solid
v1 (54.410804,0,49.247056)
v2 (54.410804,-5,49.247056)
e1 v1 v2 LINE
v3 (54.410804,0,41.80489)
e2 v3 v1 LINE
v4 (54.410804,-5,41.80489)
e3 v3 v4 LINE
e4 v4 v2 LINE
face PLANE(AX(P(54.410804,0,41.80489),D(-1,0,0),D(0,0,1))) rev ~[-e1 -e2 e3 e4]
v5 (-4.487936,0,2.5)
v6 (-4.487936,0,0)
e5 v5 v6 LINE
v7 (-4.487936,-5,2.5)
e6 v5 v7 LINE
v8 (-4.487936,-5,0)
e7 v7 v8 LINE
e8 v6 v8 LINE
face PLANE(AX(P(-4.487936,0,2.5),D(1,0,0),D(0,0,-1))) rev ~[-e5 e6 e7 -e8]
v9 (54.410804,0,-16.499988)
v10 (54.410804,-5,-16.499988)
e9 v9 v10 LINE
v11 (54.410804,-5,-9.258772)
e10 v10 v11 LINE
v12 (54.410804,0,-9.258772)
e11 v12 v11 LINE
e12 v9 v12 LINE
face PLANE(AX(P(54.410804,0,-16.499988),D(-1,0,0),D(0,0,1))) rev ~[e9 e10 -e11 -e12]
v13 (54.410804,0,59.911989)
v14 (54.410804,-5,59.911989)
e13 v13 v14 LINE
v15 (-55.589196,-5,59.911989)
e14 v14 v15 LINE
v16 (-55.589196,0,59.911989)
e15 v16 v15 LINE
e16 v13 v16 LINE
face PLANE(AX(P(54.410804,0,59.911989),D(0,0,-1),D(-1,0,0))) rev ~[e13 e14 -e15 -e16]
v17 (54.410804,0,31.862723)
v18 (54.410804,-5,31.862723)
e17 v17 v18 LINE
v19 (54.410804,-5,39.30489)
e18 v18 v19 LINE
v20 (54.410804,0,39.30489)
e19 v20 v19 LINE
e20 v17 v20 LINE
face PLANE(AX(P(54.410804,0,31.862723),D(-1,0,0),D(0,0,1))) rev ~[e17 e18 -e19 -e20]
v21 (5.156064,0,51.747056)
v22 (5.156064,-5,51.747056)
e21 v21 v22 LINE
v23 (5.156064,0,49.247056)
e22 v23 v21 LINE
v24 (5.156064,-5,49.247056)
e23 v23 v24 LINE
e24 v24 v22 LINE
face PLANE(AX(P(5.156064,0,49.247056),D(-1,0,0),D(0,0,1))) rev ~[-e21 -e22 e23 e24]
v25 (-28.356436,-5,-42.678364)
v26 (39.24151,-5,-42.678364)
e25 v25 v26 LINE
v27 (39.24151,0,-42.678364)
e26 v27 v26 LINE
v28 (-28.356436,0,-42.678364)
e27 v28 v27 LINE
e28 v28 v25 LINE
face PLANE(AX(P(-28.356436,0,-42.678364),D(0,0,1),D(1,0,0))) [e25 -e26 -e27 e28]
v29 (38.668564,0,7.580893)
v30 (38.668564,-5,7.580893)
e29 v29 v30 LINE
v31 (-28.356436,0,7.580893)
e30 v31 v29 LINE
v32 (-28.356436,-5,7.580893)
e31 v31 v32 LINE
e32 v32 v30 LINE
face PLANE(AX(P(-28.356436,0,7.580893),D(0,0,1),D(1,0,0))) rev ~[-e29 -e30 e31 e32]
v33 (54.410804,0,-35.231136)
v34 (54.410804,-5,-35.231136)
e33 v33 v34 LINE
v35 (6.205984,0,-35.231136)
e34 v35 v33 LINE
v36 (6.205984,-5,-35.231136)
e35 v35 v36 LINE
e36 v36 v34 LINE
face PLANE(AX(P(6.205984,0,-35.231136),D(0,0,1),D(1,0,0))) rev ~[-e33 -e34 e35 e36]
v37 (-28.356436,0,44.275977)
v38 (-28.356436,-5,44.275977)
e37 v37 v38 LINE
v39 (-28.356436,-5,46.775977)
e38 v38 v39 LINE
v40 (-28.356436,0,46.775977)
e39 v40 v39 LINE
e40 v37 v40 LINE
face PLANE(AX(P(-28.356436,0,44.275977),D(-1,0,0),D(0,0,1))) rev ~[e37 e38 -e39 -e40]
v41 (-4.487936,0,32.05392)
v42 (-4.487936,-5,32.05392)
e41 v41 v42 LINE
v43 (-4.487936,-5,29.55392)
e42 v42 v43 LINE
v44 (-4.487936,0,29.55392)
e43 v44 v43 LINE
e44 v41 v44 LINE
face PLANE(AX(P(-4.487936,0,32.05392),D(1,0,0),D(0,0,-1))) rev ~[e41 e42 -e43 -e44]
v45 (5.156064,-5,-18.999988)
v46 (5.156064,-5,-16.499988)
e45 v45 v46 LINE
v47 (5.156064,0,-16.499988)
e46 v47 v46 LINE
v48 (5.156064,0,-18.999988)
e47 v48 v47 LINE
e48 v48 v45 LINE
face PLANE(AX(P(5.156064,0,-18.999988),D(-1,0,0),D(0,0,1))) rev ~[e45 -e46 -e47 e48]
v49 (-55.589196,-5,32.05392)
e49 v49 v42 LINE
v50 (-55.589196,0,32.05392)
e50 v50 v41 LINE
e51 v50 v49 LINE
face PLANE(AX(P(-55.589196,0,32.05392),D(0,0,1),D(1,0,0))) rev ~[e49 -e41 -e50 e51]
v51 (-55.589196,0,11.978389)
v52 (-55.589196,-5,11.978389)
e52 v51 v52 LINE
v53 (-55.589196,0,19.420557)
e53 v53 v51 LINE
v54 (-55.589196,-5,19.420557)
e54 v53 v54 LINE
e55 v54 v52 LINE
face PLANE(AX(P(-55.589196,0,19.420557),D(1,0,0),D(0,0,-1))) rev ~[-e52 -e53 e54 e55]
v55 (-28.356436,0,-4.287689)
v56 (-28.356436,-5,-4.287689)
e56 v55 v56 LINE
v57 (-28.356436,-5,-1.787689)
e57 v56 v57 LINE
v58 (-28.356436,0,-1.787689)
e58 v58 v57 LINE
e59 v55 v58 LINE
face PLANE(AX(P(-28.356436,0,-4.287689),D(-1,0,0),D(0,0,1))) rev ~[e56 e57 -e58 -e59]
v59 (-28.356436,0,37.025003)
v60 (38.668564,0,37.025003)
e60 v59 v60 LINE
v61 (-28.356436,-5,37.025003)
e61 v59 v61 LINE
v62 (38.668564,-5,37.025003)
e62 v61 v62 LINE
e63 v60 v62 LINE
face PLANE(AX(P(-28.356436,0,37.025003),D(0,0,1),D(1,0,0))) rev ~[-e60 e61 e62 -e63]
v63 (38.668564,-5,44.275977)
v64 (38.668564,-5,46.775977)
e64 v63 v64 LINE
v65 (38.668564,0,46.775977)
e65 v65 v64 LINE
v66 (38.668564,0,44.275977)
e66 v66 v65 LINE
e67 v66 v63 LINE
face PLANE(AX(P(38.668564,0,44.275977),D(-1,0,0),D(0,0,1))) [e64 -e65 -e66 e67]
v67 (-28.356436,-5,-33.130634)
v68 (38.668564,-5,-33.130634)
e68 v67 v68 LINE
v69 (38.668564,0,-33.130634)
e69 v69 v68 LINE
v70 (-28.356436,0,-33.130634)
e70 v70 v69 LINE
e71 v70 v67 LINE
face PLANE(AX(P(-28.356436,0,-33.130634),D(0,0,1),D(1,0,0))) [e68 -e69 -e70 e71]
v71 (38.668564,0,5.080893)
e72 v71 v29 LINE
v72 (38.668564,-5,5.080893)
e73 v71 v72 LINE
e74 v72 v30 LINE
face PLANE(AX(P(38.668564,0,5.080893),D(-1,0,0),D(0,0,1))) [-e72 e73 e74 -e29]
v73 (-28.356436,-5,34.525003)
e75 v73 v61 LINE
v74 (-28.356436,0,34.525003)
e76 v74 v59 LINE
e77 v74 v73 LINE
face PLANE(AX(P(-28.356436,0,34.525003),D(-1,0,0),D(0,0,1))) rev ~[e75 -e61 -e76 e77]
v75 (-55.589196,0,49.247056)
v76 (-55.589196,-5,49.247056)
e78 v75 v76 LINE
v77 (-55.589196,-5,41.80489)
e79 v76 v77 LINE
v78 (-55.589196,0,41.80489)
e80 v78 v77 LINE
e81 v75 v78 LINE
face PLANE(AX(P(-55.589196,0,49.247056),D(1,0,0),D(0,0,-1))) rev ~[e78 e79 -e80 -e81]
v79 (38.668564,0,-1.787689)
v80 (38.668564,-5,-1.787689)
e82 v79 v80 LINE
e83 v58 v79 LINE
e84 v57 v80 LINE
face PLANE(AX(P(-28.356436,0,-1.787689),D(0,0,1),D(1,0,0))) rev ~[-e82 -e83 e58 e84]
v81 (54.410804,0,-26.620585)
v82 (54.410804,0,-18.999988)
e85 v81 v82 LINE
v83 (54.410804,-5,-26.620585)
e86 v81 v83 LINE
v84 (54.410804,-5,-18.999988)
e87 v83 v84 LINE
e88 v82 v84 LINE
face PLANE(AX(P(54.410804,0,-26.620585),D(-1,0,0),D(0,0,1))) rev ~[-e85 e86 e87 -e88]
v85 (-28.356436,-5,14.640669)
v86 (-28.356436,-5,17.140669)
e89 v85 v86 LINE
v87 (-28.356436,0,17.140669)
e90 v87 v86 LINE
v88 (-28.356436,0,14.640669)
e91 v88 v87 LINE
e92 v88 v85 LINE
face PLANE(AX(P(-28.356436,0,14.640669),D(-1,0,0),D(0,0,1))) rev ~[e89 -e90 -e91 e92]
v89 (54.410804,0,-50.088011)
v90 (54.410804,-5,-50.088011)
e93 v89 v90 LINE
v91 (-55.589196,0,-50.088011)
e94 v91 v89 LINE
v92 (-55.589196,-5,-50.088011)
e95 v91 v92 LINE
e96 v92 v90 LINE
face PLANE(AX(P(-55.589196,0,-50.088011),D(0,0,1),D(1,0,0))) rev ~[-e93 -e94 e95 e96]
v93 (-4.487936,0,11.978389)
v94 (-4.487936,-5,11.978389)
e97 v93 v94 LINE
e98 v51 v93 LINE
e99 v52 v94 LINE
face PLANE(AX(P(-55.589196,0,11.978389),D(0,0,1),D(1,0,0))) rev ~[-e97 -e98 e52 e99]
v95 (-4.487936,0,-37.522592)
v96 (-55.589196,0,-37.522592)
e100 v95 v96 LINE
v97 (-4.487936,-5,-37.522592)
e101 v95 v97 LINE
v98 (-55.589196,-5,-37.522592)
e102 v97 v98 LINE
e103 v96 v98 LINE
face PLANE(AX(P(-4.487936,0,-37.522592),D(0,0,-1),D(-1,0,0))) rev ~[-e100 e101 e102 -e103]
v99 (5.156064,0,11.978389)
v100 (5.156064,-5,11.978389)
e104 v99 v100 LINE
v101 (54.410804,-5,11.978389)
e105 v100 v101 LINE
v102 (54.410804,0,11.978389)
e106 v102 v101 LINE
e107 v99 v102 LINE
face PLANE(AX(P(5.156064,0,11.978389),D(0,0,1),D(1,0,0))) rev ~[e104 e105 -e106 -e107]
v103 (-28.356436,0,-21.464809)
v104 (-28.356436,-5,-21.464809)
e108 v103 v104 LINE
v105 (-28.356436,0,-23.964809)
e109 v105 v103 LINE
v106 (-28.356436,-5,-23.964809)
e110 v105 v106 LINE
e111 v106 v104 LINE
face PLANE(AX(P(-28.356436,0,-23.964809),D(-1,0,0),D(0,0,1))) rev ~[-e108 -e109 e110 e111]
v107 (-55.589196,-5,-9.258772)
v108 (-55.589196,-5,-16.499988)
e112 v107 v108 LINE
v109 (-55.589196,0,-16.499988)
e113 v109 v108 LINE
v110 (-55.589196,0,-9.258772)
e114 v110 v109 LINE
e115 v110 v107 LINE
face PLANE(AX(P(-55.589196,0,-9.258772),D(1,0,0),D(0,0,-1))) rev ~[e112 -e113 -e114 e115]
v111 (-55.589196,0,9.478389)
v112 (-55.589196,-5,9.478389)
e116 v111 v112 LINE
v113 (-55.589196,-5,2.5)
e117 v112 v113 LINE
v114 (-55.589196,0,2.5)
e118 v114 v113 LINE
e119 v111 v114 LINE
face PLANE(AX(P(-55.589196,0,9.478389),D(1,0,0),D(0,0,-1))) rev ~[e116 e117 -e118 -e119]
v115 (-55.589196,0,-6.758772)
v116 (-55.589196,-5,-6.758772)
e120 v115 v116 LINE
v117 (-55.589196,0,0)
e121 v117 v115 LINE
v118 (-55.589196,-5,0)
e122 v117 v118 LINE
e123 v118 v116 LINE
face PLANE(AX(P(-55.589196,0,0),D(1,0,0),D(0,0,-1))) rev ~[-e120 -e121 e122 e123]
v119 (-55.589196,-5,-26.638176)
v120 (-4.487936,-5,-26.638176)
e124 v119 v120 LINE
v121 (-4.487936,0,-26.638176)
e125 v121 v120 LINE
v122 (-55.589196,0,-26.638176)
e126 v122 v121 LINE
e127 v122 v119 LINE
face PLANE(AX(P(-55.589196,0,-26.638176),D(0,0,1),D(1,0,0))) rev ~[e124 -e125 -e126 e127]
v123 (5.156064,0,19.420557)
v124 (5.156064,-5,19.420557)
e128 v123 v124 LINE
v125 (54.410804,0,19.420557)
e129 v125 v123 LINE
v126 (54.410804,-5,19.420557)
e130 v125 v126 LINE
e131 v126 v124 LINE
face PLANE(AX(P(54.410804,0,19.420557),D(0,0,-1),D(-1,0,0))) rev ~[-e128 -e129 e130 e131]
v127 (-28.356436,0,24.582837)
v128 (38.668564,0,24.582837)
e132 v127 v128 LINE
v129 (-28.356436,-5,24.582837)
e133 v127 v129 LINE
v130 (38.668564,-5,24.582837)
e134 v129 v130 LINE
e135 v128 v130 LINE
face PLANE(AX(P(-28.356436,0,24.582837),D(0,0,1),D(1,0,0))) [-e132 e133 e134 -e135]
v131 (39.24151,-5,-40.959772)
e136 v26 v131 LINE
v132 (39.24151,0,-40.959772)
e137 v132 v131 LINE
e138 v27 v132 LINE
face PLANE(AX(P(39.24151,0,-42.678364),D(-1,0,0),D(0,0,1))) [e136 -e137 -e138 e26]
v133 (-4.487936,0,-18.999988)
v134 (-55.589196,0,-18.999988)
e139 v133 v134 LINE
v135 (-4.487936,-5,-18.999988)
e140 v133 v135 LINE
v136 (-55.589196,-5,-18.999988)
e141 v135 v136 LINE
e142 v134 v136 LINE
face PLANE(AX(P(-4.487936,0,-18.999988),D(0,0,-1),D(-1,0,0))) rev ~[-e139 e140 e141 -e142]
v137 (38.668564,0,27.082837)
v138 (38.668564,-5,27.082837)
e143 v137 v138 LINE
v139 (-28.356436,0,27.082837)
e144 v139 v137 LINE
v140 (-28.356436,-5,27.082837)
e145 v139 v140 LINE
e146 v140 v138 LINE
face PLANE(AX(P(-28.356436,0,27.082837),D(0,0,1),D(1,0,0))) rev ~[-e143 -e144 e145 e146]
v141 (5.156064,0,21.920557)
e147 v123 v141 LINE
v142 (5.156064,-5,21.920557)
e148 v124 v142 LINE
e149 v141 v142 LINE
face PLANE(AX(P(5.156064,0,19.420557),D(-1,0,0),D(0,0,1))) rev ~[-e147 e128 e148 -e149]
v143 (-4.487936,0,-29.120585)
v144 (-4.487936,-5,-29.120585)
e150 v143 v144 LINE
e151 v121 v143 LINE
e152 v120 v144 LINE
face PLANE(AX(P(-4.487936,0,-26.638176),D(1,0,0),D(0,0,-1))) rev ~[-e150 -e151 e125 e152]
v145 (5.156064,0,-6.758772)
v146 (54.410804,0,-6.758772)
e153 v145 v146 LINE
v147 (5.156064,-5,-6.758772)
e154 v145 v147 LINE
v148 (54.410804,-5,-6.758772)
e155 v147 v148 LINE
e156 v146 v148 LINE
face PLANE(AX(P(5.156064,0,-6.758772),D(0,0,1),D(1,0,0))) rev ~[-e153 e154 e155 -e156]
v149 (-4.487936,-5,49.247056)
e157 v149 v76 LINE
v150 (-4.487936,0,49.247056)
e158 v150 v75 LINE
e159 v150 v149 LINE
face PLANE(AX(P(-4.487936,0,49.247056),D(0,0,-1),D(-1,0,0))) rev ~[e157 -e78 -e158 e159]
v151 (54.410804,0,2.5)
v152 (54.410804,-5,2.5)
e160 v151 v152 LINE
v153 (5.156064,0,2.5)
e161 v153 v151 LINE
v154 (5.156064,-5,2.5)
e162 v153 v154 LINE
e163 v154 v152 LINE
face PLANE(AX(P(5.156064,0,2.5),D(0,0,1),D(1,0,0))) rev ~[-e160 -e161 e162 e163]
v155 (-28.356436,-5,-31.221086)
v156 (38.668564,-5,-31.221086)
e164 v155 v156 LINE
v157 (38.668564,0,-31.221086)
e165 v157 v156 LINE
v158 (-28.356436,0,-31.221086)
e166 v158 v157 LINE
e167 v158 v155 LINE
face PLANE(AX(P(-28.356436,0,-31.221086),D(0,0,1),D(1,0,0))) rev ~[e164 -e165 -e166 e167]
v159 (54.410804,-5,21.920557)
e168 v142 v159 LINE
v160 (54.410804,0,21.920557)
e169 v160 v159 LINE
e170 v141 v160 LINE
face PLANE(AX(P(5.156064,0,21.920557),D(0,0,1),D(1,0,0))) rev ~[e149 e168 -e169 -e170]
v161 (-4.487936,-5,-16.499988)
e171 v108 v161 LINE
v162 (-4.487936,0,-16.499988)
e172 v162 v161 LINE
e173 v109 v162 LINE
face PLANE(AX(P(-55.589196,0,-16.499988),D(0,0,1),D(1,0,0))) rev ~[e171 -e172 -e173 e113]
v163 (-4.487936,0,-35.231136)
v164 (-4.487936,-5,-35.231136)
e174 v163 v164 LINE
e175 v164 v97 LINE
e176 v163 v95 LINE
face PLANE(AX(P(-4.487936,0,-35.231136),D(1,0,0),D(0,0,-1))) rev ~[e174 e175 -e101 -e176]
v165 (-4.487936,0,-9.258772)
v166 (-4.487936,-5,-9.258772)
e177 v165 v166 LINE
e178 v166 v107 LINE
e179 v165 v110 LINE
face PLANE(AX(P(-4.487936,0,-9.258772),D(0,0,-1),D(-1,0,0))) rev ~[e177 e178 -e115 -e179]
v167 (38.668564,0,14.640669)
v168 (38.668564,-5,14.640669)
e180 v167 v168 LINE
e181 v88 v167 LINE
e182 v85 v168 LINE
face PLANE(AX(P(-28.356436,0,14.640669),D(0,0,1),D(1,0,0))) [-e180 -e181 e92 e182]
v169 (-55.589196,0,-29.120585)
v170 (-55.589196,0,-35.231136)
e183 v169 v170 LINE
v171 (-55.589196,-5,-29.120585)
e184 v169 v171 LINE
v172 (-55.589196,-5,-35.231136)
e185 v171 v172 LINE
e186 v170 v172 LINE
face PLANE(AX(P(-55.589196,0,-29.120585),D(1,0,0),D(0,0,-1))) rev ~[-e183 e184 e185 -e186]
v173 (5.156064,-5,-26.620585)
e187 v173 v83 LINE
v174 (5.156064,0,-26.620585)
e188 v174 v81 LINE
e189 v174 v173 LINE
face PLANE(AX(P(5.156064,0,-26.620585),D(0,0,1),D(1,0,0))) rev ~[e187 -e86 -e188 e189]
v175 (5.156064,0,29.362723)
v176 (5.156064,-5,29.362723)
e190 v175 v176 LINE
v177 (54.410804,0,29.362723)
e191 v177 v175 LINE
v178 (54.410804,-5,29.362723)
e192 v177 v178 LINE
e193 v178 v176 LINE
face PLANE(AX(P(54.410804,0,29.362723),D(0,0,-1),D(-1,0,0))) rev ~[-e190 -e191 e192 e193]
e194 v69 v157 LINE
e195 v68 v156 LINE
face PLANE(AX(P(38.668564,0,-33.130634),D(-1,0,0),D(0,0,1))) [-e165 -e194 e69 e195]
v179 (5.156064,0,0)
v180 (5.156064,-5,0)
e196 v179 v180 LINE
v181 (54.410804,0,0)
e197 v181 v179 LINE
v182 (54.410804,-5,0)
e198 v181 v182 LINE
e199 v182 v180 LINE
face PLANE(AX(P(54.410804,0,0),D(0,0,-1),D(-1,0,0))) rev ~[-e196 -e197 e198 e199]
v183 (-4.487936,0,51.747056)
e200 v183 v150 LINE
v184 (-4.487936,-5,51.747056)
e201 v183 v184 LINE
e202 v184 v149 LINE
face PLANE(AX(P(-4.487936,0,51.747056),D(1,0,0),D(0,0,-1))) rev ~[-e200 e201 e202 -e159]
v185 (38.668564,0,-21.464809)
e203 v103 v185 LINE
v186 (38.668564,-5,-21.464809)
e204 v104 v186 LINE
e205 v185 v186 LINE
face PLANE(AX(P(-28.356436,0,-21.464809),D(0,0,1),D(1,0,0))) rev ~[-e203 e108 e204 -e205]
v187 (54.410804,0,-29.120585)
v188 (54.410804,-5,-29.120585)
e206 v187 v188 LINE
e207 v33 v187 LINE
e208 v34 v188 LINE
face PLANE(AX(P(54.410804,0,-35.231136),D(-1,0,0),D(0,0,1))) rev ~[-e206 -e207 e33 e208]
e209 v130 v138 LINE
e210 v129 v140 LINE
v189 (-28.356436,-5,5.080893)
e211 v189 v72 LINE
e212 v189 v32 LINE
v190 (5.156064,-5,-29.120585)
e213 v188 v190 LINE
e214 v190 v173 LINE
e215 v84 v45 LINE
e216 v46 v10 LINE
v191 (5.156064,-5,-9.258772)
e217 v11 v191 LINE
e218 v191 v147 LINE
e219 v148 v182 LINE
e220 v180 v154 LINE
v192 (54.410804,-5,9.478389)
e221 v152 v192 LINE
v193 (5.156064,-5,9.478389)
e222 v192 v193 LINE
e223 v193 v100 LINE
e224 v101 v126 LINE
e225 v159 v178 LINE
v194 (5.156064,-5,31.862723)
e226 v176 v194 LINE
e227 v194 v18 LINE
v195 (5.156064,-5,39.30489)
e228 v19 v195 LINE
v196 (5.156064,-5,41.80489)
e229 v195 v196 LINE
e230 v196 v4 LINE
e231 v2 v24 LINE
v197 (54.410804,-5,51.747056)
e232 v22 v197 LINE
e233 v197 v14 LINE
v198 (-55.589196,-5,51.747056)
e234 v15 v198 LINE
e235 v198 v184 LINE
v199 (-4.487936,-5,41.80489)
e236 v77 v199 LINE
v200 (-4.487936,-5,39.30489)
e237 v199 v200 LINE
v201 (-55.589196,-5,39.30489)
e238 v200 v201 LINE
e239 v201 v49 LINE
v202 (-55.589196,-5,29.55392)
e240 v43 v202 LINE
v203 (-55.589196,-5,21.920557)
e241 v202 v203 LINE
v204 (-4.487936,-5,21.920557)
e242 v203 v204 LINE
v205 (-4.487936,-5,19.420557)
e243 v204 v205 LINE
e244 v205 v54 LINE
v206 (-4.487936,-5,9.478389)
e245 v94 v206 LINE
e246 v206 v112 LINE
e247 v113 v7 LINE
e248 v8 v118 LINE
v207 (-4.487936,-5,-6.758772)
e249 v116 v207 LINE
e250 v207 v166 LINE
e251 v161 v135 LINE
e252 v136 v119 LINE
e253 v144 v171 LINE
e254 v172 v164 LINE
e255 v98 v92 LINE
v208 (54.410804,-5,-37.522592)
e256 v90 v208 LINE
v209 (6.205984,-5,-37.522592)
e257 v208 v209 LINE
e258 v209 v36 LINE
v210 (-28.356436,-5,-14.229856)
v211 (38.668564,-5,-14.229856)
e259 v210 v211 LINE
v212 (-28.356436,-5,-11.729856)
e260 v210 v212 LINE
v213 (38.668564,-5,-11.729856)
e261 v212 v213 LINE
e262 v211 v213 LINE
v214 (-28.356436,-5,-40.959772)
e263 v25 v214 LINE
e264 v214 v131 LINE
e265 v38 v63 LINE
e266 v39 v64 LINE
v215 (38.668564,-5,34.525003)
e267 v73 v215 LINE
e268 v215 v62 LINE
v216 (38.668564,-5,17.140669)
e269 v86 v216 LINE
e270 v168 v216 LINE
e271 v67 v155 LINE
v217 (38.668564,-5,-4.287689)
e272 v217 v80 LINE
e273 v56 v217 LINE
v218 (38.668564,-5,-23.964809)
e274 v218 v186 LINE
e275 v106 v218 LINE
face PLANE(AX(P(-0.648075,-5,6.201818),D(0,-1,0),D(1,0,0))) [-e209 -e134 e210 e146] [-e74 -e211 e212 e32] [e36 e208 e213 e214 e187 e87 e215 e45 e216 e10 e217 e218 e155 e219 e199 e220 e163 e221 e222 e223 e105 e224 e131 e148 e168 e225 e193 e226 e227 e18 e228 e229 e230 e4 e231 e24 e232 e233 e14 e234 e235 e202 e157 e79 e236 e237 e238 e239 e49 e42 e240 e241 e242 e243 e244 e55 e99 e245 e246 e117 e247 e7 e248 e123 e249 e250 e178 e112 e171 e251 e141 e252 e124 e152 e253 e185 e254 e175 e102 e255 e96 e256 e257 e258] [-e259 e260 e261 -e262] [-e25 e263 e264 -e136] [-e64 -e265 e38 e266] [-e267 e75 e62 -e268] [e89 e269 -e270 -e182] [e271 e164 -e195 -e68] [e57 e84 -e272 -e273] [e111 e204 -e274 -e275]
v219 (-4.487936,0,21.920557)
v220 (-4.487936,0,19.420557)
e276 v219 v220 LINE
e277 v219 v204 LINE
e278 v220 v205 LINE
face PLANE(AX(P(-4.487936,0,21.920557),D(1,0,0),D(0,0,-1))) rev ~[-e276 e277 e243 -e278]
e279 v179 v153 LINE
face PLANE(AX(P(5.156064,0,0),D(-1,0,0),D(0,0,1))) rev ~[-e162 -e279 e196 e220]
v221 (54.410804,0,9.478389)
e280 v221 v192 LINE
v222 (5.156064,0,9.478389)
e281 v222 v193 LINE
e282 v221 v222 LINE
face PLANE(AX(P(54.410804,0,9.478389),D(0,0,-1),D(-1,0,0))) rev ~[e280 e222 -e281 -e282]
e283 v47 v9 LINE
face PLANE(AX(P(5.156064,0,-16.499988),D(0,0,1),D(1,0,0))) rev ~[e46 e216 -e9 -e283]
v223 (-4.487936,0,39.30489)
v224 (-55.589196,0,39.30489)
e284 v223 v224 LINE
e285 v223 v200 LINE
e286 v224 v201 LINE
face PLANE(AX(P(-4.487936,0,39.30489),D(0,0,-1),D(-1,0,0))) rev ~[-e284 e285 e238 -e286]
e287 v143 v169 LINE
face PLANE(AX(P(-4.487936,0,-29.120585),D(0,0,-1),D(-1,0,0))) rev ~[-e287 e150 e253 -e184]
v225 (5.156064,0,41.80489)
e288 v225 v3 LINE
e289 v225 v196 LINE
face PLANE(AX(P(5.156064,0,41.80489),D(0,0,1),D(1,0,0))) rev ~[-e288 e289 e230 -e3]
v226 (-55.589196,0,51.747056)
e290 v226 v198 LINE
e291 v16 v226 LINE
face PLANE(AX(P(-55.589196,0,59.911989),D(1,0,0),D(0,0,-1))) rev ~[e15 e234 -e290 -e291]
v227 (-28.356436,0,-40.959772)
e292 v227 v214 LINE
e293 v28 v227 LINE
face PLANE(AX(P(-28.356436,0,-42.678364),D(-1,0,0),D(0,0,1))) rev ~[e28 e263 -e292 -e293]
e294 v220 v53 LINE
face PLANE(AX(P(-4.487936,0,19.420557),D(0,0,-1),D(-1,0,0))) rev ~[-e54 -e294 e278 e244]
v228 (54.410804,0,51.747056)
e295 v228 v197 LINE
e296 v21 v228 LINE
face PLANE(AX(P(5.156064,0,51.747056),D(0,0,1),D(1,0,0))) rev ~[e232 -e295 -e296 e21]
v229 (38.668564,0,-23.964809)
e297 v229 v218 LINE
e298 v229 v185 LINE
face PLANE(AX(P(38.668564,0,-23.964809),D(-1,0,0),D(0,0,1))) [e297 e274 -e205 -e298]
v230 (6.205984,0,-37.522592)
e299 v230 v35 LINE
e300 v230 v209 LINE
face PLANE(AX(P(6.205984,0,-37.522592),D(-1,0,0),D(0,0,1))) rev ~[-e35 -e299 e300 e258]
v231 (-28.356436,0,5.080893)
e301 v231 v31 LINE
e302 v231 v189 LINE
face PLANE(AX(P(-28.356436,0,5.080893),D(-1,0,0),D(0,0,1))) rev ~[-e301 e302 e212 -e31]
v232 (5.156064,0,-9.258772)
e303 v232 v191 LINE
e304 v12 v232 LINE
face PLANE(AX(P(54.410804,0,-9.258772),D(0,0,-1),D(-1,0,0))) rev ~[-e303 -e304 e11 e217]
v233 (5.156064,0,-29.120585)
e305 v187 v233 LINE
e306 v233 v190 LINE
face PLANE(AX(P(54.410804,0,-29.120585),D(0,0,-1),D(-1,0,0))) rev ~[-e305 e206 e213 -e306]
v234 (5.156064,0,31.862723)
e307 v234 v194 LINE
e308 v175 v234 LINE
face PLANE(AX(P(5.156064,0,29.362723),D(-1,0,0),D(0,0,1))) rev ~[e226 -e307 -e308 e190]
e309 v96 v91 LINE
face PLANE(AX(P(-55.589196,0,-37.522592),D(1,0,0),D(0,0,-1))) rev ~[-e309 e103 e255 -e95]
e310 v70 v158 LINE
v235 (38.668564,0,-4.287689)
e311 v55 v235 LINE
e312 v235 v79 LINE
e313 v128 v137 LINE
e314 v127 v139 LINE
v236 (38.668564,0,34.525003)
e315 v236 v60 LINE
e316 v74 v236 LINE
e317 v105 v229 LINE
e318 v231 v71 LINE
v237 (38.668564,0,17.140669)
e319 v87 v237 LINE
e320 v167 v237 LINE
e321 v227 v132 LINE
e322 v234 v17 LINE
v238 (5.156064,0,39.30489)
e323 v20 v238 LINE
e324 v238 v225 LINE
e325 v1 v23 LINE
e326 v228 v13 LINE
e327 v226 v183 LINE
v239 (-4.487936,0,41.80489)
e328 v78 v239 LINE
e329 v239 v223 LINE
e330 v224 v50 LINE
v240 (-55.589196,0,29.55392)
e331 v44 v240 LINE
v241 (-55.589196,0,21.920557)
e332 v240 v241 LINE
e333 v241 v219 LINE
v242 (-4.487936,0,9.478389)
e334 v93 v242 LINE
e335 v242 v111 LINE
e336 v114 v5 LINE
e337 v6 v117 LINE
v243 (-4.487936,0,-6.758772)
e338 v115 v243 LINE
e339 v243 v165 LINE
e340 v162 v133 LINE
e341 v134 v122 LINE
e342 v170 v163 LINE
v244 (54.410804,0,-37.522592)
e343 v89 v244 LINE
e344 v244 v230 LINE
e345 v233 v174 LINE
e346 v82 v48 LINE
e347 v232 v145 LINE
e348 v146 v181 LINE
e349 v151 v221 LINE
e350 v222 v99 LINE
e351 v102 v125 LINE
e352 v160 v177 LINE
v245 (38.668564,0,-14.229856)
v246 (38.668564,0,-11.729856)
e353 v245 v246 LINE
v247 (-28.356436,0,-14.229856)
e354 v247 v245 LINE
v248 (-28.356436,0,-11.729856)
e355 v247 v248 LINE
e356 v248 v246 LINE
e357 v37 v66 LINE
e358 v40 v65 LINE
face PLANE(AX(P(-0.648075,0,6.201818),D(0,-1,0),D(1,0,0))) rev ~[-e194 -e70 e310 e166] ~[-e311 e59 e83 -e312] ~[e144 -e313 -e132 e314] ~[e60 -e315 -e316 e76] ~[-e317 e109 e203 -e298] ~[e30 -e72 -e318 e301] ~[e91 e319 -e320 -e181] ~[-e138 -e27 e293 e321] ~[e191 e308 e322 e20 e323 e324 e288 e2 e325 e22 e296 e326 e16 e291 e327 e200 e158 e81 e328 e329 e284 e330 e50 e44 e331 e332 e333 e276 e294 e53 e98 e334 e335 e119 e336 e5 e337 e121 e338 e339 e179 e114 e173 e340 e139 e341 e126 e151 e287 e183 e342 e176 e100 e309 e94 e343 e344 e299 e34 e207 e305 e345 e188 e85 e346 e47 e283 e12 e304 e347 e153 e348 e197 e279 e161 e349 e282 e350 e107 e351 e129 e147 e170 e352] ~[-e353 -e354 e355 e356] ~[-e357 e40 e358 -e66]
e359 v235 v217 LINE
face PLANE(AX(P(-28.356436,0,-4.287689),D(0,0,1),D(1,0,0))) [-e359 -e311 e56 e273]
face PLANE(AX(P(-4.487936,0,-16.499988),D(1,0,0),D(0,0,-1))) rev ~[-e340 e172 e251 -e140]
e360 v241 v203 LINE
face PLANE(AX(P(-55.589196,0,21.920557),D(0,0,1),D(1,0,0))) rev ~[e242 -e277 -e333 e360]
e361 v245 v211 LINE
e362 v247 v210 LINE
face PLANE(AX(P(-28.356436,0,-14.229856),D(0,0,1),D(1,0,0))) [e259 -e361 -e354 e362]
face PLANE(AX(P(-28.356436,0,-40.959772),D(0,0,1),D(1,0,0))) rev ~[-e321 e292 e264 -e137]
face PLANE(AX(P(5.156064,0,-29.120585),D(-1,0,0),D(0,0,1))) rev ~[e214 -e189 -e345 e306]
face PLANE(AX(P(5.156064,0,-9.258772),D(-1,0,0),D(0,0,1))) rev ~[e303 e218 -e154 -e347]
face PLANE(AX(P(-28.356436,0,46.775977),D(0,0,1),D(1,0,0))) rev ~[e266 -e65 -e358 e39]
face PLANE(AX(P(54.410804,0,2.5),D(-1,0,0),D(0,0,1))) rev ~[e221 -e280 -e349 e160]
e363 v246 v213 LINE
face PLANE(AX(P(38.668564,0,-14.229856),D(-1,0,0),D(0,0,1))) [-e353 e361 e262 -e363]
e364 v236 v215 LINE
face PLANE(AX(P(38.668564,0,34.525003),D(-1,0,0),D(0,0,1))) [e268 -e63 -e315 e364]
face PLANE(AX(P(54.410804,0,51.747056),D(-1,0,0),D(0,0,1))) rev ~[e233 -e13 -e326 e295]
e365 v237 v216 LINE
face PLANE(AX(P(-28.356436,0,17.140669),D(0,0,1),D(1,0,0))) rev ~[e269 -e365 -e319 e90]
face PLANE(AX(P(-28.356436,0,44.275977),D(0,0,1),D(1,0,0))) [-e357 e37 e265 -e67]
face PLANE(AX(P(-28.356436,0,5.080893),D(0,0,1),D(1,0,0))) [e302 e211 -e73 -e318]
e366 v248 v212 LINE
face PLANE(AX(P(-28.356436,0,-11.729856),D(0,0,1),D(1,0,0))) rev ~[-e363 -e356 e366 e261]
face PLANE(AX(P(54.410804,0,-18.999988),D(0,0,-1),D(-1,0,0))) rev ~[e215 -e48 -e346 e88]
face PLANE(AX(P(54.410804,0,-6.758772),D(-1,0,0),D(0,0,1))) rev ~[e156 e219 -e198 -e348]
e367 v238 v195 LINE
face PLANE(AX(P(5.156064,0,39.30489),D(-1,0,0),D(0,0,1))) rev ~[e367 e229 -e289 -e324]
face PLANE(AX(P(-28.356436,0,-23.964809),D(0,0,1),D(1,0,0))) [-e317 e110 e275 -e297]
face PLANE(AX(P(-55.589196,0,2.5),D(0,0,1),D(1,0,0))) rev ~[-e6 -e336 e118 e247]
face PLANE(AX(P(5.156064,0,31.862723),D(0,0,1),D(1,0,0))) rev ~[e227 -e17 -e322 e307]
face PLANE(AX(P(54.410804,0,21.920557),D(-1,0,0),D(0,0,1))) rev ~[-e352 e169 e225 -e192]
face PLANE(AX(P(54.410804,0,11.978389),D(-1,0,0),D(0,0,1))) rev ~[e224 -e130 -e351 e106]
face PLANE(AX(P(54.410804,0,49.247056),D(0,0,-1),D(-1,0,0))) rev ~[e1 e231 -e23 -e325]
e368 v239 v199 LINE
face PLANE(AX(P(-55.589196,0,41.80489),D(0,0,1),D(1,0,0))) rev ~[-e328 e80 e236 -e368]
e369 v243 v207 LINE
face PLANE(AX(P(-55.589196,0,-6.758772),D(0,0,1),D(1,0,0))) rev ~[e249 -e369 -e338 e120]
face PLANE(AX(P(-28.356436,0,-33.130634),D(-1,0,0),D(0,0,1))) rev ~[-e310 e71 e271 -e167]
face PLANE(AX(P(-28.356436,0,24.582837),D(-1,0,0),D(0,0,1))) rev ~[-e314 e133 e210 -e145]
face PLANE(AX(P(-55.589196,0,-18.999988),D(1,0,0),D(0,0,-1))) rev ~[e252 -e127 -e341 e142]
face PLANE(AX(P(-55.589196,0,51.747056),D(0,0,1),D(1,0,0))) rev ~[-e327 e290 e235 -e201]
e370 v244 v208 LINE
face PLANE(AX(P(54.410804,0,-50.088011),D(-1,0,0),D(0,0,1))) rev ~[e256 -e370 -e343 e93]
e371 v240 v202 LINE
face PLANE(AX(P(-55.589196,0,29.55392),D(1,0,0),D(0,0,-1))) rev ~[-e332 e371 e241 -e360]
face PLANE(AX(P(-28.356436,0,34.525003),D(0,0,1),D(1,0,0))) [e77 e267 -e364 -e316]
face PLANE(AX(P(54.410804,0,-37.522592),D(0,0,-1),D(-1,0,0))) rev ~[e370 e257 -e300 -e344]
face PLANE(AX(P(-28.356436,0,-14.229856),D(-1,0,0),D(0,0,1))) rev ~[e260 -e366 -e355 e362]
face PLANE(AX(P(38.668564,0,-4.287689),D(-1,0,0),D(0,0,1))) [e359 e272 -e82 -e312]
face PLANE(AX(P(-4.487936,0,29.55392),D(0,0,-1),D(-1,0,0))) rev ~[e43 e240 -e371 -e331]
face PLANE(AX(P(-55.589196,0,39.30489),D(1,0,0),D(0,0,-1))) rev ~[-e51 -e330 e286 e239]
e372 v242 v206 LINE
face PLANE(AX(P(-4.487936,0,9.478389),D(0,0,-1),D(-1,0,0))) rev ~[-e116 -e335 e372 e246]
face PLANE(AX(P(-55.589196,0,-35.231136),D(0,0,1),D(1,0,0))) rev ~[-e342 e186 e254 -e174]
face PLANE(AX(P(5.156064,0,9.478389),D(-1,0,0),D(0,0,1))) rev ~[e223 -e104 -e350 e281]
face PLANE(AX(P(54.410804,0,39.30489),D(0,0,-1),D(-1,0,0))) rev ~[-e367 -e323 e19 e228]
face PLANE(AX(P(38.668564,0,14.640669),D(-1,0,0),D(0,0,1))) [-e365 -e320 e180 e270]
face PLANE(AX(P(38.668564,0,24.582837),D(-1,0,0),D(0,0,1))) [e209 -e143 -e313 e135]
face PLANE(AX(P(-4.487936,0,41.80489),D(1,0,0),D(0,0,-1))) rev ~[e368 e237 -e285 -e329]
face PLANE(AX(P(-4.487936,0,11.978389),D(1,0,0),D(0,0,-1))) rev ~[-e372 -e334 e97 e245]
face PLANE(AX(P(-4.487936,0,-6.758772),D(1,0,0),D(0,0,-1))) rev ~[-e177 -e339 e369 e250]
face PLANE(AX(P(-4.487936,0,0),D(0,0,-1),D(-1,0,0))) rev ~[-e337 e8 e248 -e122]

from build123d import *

# Parameters (mm, degrees)
F0_W     = 67.597946
F0_H     = 1.718592
F0_W_2   = 67.025
F0_H_2   = 1.909549
F0_H_3   = 2.5
F1_DEPTH = 5


with BuildPart() as f1:
    # F0 (on Front) → F1 (new body)
    with BuildSketch(Plane.XZ):
        Polygon((54.410804, 59.911989), (-55.589196, 59.911989), (-55.589196, 51.747056), (-4.487936, 51.747056), (-4.487936, 49.247056), (-55.589196, 49.247056), (-55.589196, 41.80489), (-4.487936, 41.80489), (-4.487936, 39.30489), (-55.589196, 39.30489), (-55.589196, 32.05392), (-4.487936, 32.05392), (-4.487936, 29.55392), (-55.589196, 29.55392), (-55.589196, 21.920557), (-4.487936, 21.920557), (-4.487936, 19.420557), (-55.589196, 19.420557), (-55.589196, 11.978389), (-4.487936, 11.978389), (-4.487936, 9.478389), (-55.589196, 9.478389), (-55.589196, 2.5), (-4.487936, 2.5), (-4.487936, 0), (-55.589196, 0), (-55.589196, -6.758772), (-4.487936, -6.758772), (-4.487936, -9.258772), (-55.589196, -9.258772), (-55.589196, -16.499988), (-4.487936, -16.499988), (-4.487936, -18.999988), (-55.589196, -18.999988), (-55.589196, -26.638176), (-4.487936, -26.638176), (-4.487936, -29.120585), (-55.589196, -29.120585), (-55.589196, -35.231136), (-4.487936, -35.231136), (-4.487936, -37.522592), (-55.589196, -37.522592), (-55.589196, -50.088011), (54.410804, -50.088011), (54.410804, -37.522592), (6.205984, -37.522592), (6.205984, -35.231136), (54.410804, -35.231136), (54.410804, -29.120585), (5.156064, -29.120585), (5.156064, -26.620585), (54.410804, -26.620585), (54.410804, -18.999988), (5.156064, -18.999988), (5.156064, -16.499988), (54.410804, -16.499988), (54.410804, -9.258772), (5.156064, -9.258772), (5.156064, -6.758772), (54.410804, -6.758772), (54.410804, 0), (5.156064, 0), (5.156064, 2.5), (54.410804, 2.5), (54.410804, 9.478389), (5.156064, 9.478389), (5.156064, 11.978389), (54.410804, 11.978389), (54.410804, 19.420557), (5.156064, 19.420557), (5.156064, 21.920557), (54.410804, 21.920557), (54.410804, 29.362723), (5.156064, 29.362723), (5.156064, 31.862723), (54.410804, 31.862723), (54.410804, 39.30489), (5.156064, 39.30489), (5.156064, 41.80489), (54.410804, 41.80489), (54.410804, 49.247056), (5.156064, 49.247056), (5.156064, 51.747056), (54.410804, 51.747056), align=None)
        with Locations((5.442537, -41.819068)):
            Rectangle(F0_W, F0_H, mode=Mode.SUBTRACT)
        with Locations((5.156064, -32.17586)):
            Rectangle(F0_W_2, F0_H_2, mode=Mode.SUBTRACT)
        with Locations((5.156064, -22.714809)):
            Rectangle(F0_W_2, F0_H_3, mode=Mode.SUBTRACT)
        with Locations((5.156064, -12.979856)):
            Rectangle(F0_W_2, F0_H_3, mode=Mode.SUBTRACT)
        with Locations((5.156064, -3.037689)):
            Rectangle(F0_W_2, F0_H_3, mode=Mode.SUBTRACT)
        with Locations((5.156064, 6.330893)):
            Rectangle(F0_W_2, F0_H_3, mode=Mode.SUBTRACT)
        with Locations((5.156064, 15.890669)):
            Rectangle(F0_W_2, F0_H_3, mode=Mode.SUBTRACT)
        with Locations((5.156064, 25.832837)):
            Rectangle(F0_W_2, F0_H_3, mode=Mode.SUBTRACT)
        with Locations((5.156064, 35.775003)):
            Rectangle(F0_W_2, F0_H_3, mode=Mode.SUBTRACT)
        with Locations((5.156064, 45.525977)):
            Rectangle(F0_W_2, F0_H_3, mode=Mode.SUBTRACT)
    extrude(amount=F1_DEPTH)


solid = f1.part
